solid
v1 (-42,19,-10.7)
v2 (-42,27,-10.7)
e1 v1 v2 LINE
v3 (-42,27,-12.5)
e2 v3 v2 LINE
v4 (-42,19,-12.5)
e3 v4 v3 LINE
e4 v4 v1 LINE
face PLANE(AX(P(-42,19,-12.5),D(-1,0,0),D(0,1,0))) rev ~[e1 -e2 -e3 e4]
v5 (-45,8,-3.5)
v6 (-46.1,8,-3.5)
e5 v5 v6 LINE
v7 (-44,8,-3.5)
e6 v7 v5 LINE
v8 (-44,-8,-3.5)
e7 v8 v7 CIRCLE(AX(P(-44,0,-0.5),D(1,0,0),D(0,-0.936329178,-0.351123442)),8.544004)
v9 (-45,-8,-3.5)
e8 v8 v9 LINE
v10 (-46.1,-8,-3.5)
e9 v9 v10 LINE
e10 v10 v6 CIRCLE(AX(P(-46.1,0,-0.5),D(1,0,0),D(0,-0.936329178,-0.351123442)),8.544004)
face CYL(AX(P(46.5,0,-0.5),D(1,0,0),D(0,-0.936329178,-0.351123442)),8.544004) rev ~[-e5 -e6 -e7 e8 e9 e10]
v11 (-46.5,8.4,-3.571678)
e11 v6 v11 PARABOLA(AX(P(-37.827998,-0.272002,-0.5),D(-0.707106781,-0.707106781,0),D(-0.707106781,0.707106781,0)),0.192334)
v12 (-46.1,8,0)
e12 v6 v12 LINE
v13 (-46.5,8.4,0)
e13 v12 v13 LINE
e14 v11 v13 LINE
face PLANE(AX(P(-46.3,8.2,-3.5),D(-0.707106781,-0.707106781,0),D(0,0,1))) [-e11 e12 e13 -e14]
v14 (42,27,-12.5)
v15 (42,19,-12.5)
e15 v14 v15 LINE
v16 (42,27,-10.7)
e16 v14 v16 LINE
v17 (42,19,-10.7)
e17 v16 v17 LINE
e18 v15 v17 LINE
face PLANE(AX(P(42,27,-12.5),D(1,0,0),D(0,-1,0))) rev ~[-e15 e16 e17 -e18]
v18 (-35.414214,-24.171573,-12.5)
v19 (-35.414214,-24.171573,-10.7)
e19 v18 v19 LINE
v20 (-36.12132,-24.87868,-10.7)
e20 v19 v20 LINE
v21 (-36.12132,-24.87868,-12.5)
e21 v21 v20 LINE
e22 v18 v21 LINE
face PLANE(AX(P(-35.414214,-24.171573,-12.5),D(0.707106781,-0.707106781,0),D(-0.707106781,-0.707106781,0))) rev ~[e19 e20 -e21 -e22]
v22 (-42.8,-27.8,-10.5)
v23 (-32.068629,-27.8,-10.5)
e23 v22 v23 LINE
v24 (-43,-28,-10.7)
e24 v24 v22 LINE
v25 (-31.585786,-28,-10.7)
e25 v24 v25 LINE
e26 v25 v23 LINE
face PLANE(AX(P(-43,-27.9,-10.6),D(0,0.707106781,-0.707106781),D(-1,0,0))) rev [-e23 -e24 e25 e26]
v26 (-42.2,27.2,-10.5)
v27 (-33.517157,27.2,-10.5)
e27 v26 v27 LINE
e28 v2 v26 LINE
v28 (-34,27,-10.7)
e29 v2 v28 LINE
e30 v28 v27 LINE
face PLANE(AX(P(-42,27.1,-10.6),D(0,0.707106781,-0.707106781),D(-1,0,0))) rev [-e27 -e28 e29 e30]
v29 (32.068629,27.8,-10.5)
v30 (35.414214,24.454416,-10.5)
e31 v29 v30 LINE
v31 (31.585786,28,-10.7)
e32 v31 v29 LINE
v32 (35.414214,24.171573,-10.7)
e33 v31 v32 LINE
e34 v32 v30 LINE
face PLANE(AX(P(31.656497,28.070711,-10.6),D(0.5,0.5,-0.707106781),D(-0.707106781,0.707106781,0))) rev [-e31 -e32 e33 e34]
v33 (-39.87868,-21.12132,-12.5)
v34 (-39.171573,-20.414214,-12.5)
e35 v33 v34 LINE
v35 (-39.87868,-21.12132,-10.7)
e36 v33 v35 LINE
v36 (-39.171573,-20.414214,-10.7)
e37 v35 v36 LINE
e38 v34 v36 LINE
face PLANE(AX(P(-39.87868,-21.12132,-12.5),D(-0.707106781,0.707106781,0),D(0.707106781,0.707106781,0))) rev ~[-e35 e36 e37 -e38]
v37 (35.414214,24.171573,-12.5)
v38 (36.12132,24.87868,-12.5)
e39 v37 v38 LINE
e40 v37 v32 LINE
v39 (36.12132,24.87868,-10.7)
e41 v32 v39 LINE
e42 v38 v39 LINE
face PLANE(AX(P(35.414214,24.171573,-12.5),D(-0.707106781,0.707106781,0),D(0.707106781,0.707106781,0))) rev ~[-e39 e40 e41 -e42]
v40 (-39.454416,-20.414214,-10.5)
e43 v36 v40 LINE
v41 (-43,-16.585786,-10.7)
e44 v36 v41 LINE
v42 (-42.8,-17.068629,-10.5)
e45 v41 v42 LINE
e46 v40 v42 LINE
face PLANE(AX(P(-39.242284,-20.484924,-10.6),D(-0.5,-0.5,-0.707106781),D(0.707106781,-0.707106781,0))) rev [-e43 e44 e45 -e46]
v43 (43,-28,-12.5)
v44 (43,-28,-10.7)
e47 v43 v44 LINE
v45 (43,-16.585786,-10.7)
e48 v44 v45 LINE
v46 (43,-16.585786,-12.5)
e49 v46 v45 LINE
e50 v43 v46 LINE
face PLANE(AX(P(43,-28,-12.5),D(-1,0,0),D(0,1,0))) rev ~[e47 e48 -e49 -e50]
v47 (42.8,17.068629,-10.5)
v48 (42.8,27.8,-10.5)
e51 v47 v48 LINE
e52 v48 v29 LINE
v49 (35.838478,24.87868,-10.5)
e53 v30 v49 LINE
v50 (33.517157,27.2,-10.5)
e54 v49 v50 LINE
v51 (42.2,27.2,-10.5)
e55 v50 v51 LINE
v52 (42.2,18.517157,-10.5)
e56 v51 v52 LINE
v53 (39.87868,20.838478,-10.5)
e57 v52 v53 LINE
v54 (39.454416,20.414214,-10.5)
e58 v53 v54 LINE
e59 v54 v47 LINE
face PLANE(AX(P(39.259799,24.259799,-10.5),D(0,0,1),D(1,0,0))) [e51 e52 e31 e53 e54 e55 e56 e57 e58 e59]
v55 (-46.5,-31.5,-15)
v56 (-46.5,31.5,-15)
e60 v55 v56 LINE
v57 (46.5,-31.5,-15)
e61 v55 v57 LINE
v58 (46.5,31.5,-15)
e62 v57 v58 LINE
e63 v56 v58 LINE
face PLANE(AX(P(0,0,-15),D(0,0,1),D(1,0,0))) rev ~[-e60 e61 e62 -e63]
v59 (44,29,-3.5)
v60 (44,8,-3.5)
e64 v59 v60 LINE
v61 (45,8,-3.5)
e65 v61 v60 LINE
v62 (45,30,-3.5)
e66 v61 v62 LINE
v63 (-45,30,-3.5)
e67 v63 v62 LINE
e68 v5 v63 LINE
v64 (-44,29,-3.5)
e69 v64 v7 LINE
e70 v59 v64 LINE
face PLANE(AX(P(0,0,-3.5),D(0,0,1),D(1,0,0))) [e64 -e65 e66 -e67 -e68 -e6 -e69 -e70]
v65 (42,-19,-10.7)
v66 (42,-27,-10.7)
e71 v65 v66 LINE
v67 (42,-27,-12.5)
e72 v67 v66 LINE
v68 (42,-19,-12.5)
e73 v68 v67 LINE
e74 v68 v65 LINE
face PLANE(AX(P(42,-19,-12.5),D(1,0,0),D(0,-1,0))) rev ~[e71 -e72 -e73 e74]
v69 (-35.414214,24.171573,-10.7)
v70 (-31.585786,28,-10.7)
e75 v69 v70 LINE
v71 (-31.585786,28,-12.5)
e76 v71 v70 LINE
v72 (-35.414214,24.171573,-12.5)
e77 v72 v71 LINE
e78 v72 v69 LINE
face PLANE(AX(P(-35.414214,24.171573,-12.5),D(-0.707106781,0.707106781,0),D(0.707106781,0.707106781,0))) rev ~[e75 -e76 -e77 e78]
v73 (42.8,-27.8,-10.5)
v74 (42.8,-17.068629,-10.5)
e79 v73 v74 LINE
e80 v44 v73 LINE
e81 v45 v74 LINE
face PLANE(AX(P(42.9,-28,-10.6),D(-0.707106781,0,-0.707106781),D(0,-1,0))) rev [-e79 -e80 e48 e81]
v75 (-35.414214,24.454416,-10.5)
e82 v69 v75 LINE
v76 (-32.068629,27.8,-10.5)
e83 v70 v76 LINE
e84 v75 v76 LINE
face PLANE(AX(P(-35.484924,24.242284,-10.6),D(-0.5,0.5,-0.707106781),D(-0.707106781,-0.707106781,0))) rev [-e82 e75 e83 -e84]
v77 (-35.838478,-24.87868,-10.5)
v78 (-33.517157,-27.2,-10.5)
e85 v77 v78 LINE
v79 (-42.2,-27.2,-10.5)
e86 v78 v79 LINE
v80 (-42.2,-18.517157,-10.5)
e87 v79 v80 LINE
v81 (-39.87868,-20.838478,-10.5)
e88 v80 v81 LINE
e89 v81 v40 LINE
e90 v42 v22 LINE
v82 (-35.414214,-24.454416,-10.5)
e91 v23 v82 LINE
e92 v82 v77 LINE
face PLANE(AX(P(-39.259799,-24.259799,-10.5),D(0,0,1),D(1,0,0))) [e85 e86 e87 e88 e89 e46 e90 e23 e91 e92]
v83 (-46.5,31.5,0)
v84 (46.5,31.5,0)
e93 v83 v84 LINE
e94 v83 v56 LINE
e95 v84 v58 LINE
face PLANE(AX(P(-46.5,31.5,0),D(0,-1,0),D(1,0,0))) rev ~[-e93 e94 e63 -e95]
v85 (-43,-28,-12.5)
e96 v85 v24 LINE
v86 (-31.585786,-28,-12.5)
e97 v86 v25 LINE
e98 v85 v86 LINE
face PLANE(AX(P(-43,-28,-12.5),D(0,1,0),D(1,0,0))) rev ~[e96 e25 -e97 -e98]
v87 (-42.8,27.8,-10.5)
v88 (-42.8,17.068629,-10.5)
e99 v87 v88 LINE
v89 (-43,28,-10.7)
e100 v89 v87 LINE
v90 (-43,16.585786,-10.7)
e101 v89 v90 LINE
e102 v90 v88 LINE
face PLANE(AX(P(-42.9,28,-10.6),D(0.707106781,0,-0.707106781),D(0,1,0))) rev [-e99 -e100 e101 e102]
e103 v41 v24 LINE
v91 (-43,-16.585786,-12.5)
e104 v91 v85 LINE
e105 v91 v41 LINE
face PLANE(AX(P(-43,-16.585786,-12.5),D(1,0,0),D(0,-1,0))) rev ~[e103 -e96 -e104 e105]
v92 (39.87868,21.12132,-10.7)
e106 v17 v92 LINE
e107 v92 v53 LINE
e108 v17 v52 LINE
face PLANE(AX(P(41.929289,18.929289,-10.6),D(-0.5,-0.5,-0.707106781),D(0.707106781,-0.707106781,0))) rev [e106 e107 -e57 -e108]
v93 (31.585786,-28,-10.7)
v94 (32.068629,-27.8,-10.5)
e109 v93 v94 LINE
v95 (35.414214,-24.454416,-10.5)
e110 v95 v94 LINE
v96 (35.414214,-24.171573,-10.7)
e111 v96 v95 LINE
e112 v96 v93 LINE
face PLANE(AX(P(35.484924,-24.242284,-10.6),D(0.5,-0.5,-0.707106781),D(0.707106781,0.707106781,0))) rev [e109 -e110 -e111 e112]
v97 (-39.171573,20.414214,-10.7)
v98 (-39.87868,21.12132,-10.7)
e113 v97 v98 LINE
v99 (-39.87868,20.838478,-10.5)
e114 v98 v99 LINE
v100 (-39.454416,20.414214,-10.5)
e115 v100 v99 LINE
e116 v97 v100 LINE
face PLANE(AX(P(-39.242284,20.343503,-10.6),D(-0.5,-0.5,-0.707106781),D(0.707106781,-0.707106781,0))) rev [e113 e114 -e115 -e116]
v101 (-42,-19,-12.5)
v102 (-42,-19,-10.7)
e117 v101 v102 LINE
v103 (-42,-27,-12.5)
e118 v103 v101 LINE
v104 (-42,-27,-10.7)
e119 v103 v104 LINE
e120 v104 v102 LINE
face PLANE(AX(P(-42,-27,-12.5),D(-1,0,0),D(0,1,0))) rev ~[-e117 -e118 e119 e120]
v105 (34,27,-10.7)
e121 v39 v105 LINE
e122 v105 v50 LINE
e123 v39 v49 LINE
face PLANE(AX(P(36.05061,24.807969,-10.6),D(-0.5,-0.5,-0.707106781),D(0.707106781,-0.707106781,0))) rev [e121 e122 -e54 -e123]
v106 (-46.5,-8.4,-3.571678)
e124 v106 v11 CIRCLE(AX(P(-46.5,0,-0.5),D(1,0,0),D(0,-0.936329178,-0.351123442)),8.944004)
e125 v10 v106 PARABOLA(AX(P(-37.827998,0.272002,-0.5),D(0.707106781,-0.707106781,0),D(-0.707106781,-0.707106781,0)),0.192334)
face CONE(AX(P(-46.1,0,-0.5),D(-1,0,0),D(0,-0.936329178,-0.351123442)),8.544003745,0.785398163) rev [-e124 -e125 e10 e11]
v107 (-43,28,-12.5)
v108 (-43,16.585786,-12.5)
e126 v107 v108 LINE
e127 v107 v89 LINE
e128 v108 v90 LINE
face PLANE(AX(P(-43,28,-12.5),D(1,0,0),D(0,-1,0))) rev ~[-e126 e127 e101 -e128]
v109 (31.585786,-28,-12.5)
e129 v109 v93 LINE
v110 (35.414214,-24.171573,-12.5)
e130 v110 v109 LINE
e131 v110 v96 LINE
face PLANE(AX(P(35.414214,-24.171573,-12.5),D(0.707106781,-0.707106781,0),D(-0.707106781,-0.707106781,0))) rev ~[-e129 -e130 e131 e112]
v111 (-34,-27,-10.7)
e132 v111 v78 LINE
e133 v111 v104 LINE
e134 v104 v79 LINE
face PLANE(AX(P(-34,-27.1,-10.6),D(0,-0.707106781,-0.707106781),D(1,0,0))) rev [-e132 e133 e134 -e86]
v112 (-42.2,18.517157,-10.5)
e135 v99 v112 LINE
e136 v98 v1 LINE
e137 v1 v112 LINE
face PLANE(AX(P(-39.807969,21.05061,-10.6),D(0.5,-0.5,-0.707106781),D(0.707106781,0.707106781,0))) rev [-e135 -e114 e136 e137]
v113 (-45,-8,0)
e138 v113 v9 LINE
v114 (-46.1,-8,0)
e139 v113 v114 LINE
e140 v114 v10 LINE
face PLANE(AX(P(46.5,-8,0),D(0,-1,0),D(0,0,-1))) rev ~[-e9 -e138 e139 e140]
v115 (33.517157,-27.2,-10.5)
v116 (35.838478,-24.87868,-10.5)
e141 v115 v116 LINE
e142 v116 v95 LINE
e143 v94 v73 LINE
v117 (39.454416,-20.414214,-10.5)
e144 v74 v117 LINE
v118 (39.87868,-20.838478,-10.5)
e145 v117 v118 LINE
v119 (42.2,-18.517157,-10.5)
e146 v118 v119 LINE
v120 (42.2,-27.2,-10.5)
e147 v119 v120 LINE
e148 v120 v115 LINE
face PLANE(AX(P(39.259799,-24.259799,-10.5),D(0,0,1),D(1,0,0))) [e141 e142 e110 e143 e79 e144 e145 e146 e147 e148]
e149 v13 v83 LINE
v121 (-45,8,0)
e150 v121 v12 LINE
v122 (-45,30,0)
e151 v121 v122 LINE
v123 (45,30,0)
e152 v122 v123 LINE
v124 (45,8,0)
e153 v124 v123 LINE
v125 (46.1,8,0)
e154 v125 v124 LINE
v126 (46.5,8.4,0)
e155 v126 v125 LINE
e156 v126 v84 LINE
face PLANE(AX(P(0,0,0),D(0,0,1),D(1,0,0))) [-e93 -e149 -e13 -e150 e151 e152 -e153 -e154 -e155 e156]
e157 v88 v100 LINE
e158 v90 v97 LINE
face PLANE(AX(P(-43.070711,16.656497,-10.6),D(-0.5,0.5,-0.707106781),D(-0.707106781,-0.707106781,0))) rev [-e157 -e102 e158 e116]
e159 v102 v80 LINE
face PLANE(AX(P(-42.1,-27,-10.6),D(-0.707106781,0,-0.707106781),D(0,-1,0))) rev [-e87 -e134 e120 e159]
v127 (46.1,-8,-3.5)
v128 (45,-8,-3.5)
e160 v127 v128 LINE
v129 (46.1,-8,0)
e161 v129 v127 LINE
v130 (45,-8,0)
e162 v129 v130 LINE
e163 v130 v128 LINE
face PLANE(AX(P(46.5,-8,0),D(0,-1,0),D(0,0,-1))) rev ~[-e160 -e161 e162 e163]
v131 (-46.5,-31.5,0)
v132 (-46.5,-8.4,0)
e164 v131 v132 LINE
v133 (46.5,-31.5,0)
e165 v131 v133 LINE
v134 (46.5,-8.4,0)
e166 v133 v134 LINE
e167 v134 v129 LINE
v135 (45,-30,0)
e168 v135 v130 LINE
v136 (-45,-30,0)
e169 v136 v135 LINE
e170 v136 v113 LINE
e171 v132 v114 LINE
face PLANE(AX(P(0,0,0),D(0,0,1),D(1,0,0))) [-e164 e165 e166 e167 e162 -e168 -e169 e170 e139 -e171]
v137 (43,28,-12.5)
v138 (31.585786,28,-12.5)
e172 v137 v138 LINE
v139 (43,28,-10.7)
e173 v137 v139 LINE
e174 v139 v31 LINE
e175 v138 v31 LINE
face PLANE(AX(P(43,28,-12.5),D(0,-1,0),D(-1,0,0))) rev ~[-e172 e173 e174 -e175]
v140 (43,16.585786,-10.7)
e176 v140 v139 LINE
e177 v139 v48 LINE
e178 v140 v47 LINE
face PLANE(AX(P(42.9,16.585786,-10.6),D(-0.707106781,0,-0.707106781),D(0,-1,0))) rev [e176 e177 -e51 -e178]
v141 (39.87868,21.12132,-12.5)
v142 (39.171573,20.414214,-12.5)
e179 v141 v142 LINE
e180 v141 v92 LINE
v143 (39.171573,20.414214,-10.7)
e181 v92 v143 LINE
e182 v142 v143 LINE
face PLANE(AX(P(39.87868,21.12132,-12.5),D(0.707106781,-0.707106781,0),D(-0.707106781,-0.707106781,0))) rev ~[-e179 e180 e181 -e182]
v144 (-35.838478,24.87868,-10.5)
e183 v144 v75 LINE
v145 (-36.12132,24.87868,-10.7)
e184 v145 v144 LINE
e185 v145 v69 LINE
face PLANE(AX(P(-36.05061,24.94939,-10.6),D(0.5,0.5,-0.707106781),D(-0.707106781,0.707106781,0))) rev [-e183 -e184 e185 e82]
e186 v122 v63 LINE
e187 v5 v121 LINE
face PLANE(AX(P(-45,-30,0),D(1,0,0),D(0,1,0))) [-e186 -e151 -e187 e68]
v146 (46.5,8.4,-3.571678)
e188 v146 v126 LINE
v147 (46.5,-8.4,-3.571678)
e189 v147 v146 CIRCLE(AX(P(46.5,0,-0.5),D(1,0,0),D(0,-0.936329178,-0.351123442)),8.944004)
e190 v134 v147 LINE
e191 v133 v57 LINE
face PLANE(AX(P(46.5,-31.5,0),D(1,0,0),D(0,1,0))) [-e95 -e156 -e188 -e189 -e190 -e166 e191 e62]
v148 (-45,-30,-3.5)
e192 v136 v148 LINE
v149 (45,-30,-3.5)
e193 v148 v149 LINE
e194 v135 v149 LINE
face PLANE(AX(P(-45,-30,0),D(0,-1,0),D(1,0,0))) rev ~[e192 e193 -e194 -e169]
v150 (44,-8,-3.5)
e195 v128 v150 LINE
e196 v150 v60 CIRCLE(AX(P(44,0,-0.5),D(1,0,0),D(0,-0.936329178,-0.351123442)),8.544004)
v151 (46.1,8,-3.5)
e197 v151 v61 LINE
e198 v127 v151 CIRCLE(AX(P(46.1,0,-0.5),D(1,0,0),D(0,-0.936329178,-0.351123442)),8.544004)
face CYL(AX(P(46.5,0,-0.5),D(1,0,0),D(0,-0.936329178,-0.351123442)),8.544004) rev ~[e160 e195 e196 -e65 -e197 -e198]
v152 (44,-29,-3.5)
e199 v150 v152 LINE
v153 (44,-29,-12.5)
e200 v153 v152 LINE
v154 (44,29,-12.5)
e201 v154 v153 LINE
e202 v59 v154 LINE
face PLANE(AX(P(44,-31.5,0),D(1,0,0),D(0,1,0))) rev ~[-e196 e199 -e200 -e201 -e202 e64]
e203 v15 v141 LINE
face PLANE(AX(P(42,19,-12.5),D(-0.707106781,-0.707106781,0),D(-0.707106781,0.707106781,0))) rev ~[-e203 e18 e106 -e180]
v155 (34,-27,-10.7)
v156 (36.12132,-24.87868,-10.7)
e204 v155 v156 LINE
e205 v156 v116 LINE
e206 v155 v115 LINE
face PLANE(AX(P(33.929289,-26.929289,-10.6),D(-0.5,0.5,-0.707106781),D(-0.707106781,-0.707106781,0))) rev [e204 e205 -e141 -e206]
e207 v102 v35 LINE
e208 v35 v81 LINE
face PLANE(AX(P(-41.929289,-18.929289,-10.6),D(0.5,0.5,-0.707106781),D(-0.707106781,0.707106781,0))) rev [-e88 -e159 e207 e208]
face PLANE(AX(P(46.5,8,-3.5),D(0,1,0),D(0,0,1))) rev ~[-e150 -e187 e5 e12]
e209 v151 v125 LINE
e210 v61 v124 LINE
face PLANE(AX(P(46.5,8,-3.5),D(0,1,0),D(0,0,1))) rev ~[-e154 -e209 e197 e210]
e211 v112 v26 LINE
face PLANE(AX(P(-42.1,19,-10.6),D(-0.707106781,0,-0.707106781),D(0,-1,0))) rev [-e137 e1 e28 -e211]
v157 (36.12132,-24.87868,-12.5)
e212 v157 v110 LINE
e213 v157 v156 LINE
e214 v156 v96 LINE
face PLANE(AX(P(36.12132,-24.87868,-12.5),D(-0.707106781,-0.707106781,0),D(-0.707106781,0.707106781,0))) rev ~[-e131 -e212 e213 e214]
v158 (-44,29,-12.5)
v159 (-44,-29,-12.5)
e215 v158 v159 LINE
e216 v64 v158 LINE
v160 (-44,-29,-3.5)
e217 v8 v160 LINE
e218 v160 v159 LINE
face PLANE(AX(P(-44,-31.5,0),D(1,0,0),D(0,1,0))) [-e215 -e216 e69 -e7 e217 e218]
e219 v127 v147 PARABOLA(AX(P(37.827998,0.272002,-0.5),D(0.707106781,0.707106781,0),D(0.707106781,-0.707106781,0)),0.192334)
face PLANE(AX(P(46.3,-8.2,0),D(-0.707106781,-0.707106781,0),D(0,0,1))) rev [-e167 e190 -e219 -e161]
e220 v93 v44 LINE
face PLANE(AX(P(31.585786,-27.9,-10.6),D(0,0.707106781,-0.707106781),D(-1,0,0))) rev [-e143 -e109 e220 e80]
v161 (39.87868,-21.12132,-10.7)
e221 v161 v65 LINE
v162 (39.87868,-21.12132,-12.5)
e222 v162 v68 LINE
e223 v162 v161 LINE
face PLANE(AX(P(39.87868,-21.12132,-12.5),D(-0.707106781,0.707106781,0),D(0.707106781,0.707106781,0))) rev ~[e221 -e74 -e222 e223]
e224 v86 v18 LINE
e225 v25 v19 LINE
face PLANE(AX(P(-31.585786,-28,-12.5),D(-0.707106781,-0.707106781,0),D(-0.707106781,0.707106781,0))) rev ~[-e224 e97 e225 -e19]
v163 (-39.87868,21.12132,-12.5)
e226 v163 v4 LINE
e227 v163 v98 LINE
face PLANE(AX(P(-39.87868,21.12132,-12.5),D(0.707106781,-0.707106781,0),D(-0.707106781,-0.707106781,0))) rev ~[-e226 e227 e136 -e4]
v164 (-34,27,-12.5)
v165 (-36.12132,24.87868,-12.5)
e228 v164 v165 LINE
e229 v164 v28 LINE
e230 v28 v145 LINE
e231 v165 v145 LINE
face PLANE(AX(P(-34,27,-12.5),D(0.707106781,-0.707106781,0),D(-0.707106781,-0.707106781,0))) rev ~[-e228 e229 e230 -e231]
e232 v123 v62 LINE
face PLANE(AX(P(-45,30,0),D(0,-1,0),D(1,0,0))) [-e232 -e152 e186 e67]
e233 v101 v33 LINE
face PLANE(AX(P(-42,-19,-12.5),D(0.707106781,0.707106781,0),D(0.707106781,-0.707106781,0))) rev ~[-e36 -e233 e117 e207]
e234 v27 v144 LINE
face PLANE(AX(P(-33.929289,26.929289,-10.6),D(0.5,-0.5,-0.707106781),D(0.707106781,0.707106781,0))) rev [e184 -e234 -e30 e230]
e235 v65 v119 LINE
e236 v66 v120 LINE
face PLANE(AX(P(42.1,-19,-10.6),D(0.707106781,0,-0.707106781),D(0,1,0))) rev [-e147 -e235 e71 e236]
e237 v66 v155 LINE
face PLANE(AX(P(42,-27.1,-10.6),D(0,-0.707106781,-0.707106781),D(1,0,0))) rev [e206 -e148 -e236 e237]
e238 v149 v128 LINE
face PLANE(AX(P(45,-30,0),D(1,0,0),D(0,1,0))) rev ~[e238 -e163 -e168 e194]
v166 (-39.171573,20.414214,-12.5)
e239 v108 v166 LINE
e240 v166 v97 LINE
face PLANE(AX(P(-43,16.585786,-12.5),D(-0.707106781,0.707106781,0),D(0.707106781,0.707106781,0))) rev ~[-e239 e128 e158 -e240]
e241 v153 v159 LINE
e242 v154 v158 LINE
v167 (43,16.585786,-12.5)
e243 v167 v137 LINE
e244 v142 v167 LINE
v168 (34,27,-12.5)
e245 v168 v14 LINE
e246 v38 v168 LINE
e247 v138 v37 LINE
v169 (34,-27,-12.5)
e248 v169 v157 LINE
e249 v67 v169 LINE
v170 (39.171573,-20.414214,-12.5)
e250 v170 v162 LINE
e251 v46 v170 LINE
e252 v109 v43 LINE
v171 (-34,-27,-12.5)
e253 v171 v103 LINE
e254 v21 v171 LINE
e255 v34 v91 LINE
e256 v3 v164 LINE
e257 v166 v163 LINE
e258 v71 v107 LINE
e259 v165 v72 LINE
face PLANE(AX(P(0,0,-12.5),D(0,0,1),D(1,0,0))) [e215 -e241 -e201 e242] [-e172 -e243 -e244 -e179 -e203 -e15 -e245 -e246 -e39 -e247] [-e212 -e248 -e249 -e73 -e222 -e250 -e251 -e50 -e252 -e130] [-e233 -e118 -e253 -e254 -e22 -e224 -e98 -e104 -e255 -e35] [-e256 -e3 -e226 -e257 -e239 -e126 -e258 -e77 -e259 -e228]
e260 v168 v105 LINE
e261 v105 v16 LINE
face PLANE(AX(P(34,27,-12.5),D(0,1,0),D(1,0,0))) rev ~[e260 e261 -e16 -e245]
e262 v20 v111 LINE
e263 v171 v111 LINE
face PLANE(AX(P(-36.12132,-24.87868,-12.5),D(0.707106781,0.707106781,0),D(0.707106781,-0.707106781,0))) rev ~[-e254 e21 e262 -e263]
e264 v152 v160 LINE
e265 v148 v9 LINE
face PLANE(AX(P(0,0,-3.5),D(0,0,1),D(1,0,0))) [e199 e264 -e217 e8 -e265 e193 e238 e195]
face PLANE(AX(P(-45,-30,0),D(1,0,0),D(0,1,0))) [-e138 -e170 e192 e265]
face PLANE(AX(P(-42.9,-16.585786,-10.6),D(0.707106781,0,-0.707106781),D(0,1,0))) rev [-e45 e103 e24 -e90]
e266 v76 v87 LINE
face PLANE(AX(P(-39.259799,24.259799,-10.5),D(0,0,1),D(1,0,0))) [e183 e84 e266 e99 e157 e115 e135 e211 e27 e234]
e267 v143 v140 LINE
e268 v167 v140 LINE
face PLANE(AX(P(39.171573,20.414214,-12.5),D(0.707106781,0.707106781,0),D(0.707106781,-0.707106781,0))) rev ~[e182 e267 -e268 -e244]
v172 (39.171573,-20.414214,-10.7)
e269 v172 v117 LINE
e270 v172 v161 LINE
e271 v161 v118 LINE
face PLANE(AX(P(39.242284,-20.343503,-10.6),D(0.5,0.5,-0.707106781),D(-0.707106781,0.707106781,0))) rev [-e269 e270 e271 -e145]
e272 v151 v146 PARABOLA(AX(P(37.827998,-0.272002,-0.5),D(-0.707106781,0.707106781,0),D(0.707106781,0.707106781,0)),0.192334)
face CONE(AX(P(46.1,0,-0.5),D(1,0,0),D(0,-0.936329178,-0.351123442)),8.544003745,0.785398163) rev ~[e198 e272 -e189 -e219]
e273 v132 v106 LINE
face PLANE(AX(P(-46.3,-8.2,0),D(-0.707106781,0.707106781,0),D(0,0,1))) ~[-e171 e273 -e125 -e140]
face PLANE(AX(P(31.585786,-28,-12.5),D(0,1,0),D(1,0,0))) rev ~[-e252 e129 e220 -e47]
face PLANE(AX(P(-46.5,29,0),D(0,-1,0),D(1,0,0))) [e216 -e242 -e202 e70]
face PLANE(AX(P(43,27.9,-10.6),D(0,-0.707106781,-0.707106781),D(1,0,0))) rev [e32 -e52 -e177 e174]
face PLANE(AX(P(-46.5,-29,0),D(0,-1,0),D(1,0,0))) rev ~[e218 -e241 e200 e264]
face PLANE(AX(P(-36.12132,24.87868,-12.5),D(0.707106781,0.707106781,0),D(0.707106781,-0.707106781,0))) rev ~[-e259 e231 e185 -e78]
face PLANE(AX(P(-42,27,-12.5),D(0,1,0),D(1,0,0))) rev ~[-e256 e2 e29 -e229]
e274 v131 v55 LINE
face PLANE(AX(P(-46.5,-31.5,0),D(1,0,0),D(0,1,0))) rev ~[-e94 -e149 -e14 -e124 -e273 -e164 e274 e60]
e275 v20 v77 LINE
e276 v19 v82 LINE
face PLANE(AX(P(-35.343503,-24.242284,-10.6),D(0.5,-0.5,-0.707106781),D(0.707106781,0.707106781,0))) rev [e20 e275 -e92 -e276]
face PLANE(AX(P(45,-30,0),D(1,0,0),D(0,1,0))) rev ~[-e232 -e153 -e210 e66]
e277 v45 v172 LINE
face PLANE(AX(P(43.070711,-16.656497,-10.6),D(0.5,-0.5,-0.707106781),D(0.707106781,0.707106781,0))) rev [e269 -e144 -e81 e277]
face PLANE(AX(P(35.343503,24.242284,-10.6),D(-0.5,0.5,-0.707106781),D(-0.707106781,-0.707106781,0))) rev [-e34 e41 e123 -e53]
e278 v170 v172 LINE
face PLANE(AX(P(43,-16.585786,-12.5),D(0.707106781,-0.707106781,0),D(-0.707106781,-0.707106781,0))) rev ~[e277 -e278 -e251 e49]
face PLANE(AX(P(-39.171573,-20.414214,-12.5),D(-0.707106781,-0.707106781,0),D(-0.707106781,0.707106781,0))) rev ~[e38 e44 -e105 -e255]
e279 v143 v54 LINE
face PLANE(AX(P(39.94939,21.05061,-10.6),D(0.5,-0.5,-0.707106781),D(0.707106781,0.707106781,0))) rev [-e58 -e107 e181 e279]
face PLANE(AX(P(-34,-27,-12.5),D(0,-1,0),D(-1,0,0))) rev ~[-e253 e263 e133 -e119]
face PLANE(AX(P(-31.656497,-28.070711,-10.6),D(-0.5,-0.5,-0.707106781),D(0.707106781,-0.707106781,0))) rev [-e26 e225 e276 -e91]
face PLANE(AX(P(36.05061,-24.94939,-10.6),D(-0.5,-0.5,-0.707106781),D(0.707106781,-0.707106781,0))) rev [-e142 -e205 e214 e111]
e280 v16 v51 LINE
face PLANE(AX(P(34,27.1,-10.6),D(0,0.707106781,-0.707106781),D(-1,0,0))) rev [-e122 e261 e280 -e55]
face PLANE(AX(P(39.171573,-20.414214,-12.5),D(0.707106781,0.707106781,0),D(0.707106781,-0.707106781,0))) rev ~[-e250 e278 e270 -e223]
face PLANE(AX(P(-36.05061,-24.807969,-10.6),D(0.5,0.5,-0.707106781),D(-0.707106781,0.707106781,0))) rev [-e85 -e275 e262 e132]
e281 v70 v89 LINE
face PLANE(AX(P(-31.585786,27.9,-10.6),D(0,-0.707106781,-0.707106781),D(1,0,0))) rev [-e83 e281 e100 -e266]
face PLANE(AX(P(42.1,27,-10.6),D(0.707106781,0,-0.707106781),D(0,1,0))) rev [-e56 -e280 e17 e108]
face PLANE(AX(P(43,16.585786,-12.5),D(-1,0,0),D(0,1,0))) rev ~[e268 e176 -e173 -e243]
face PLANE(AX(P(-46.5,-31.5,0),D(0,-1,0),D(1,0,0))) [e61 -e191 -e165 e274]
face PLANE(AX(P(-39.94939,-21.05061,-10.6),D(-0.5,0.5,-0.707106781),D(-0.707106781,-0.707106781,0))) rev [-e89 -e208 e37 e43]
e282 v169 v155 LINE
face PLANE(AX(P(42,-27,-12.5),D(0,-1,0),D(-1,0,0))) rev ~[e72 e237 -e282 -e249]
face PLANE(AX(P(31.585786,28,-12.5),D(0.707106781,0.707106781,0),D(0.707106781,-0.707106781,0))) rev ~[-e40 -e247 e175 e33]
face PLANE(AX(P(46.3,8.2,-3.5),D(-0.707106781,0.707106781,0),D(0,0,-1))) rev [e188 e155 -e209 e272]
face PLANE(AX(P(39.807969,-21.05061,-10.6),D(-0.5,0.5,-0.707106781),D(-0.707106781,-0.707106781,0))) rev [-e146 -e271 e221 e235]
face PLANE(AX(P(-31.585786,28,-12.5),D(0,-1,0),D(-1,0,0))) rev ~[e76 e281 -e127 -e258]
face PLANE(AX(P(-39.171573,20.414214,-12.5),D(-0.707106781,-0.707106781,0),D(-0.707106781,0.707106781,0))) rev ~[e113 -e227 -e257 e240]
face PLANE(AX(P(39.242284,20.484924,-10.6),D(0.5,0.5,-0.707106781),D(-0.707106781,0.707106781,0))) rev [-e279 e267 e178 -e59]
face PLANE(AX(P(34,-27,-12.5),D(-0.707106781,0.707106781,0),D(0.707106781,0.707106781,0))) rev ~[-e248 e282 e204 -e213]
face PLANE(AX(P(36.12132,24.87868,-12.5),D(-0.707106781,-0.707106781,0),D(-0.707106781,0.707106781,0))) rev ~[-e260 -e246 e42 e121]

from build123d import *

# Parameters (mm, degrees)
F0_W     = 93
F0_H     = 63
F1_DEPTH = 15
F2_T     = -2.5
F3_W     = 90
F3_H     = 60
F4_DEPTH = 3.5
F6_DEPTH = 2
F7_SIZE  = 0.2
F9_DEPTH = 93.001
F10_SIZE = 0.4


with BuildPart() as f1:
    # F0 (on Top) → F1 (new body)
    with BuildSketch(Plane.XY):
        Rectangle(F0_W, F0_H)
    extrude(amount=-F1_DEPTH)

    # F2
    f2_openings = [f1.faces().sort_by_distance(p)[0] for p in [
        (0, 0, 0),
    ]]
    offset(amount=F2_T, openings=f2_openings)

    # F3 (on Top) → F4 (cut)
    with BuildSketch(Plane.XY):
        Rectangle(F3_W, F3_H)
    extrude(amount=-F4_DEPTH, mode=Mode.SUBTRACT)

    # F5 (on face) → F6 (join)
    with BuildSketch(Plane.XY.offset(-12.5)):
        Polygon((-42, 19), (-42, 27), (-34, 27), (-36.1213203436, 24.8786796564), (-35.4142135624, 24.1715728753), (-31.5857864376, 28), (-43, 28), (-43, 16.5857864376), (-39.1715728753, 20.4142135624), (-39.8786796564, 21.1213203436), align=None)
        Polygon((34, 27), (42, 27), (42, 19), (39.8786796564, 21.1213203436), (39.1715728753, 20.4142135624), (43, 16.5857864376), (43, 28), (31.5857864376, 28), (35.4142135624, 24.1715728753), (36.1213203436, 24.8786796564), align=None)
        Polygon((-43, -16.5857864376), (-43, -28), (-31.5857864376, -28), (-35.4142135624, -24.1715728753), (-36.1213203436, -24.8786796564), (-34, -27), (-42, -27), (-42, -19), (-39.8786796564, -21.1213203436), (-39.1715728753, -20.4142135624), align=None)
        Polygon((31.5857864376, -28), (43, -28), (43, -16.5857864376), (39.1715728753, -20.4142135624), (39.8786796564, -21.1213203436), (42, -19), (42, -27), (34, -27), (36.1213203436, -24.8786796564), (35.4142135624, -24.1715728753), align=None)
    extrude(amount=F6_DEPTH)

    # F7
    f7_edges = [f1.edges().sort_by_distance(p)[0] for p in [
        (-39.525126, 20.767767, -10.5),
        (-40.93934, 20.06066, -10.5),
        (-42, 23, -10.5),
        (-38, 27, -10.5),
        (-35.06066, 25.93934, -10.5),
        (-35.767767, 24.525126, -10.5),
        (-33.5, 26.085786, -10.5),
        (-37.292893, 28, -10.5),
        (-43, 22.292893, -10.5),
        (-41.085786, 18.5, -10.5),
        (35.767767, 24.525126, -10.5),
        (35.06066, 25.93934, -10.5),
        (38, 27, -10.5),
        (42, 23, -10.5),
        (40.93934, 20.06066, -10.5),
        (39.525126, 20.767767, -10.5),
        (41.085786, 18.5, -10.5),
        (43, 22.292893, -10.5),
        (37.292893, 28, -10.5),
        (33.5, 26.085786, -10.5),
        (33.5, -26.085786, -10.5),
        (37.292893, -28, -10.5),
        (43, -22.292893, -10.5),
        (41.085786, -18.5, -10.5),
        (39.525126, -20.767767, -10.5),
        (40.93934, -20.06066, -10.5),
        (42, -23, -10.5),
        (38, -27, -10.5),
        (35.06066, -25.93934, -10.5),
        (35.767767, -24.525126, -10.5),
        (-41.085786, -18.5, -10.5),
        (-43, -22.292893, -10.5),
        (-37.292893, -28, -10.5),
        (-33.5, -26.085786, -10.5),
        (-35.767767, -24.525126, -10.5),
        (-35.06066, -25.93934, -10.5),
        (-38, -27, -10.5),
        (-42, -23, -10.5),
        (-40.93934, -20.06066, -10.5),
        (-39.525126, -20.767767, -10.5),
    ]]
    chamfer(f7_edges, length=F7_SIZE)

    # F8 (on face) → F9 (cut, through all)
    with BuildSketch(Plane.YZ.offset(46.5)):
        with BuildLine():
            Line((-8, 0), (-8, -3.5))
            ThreePointArc((-8, -3.5), (0, -9.0440037453), (8, -3.5))
            Line((8, -3.5), (8, 0))
            Line((8, 0), (0, 0))
            Line((0, 0), (-8, 0))
        make_face()
    extrude(amount=-F9_DEPTH, mode=Mode.SUBTRACT)

    # F10
    f10_edges = [f1.edges().sort_by_distance(p)[0] for p in [
        (46.5, 0, -9.044004),
        (46.5, 8, -1.75),
        (46.5, -8, -1.75),
        (-46.5, 8, -1.75),
        (-46.5, 0, -9.044004),
        (-46.5, -8, -1.75),
    ]]
    chamfer(f10_edges, length=F10_SIZE)


solid = f1.part
